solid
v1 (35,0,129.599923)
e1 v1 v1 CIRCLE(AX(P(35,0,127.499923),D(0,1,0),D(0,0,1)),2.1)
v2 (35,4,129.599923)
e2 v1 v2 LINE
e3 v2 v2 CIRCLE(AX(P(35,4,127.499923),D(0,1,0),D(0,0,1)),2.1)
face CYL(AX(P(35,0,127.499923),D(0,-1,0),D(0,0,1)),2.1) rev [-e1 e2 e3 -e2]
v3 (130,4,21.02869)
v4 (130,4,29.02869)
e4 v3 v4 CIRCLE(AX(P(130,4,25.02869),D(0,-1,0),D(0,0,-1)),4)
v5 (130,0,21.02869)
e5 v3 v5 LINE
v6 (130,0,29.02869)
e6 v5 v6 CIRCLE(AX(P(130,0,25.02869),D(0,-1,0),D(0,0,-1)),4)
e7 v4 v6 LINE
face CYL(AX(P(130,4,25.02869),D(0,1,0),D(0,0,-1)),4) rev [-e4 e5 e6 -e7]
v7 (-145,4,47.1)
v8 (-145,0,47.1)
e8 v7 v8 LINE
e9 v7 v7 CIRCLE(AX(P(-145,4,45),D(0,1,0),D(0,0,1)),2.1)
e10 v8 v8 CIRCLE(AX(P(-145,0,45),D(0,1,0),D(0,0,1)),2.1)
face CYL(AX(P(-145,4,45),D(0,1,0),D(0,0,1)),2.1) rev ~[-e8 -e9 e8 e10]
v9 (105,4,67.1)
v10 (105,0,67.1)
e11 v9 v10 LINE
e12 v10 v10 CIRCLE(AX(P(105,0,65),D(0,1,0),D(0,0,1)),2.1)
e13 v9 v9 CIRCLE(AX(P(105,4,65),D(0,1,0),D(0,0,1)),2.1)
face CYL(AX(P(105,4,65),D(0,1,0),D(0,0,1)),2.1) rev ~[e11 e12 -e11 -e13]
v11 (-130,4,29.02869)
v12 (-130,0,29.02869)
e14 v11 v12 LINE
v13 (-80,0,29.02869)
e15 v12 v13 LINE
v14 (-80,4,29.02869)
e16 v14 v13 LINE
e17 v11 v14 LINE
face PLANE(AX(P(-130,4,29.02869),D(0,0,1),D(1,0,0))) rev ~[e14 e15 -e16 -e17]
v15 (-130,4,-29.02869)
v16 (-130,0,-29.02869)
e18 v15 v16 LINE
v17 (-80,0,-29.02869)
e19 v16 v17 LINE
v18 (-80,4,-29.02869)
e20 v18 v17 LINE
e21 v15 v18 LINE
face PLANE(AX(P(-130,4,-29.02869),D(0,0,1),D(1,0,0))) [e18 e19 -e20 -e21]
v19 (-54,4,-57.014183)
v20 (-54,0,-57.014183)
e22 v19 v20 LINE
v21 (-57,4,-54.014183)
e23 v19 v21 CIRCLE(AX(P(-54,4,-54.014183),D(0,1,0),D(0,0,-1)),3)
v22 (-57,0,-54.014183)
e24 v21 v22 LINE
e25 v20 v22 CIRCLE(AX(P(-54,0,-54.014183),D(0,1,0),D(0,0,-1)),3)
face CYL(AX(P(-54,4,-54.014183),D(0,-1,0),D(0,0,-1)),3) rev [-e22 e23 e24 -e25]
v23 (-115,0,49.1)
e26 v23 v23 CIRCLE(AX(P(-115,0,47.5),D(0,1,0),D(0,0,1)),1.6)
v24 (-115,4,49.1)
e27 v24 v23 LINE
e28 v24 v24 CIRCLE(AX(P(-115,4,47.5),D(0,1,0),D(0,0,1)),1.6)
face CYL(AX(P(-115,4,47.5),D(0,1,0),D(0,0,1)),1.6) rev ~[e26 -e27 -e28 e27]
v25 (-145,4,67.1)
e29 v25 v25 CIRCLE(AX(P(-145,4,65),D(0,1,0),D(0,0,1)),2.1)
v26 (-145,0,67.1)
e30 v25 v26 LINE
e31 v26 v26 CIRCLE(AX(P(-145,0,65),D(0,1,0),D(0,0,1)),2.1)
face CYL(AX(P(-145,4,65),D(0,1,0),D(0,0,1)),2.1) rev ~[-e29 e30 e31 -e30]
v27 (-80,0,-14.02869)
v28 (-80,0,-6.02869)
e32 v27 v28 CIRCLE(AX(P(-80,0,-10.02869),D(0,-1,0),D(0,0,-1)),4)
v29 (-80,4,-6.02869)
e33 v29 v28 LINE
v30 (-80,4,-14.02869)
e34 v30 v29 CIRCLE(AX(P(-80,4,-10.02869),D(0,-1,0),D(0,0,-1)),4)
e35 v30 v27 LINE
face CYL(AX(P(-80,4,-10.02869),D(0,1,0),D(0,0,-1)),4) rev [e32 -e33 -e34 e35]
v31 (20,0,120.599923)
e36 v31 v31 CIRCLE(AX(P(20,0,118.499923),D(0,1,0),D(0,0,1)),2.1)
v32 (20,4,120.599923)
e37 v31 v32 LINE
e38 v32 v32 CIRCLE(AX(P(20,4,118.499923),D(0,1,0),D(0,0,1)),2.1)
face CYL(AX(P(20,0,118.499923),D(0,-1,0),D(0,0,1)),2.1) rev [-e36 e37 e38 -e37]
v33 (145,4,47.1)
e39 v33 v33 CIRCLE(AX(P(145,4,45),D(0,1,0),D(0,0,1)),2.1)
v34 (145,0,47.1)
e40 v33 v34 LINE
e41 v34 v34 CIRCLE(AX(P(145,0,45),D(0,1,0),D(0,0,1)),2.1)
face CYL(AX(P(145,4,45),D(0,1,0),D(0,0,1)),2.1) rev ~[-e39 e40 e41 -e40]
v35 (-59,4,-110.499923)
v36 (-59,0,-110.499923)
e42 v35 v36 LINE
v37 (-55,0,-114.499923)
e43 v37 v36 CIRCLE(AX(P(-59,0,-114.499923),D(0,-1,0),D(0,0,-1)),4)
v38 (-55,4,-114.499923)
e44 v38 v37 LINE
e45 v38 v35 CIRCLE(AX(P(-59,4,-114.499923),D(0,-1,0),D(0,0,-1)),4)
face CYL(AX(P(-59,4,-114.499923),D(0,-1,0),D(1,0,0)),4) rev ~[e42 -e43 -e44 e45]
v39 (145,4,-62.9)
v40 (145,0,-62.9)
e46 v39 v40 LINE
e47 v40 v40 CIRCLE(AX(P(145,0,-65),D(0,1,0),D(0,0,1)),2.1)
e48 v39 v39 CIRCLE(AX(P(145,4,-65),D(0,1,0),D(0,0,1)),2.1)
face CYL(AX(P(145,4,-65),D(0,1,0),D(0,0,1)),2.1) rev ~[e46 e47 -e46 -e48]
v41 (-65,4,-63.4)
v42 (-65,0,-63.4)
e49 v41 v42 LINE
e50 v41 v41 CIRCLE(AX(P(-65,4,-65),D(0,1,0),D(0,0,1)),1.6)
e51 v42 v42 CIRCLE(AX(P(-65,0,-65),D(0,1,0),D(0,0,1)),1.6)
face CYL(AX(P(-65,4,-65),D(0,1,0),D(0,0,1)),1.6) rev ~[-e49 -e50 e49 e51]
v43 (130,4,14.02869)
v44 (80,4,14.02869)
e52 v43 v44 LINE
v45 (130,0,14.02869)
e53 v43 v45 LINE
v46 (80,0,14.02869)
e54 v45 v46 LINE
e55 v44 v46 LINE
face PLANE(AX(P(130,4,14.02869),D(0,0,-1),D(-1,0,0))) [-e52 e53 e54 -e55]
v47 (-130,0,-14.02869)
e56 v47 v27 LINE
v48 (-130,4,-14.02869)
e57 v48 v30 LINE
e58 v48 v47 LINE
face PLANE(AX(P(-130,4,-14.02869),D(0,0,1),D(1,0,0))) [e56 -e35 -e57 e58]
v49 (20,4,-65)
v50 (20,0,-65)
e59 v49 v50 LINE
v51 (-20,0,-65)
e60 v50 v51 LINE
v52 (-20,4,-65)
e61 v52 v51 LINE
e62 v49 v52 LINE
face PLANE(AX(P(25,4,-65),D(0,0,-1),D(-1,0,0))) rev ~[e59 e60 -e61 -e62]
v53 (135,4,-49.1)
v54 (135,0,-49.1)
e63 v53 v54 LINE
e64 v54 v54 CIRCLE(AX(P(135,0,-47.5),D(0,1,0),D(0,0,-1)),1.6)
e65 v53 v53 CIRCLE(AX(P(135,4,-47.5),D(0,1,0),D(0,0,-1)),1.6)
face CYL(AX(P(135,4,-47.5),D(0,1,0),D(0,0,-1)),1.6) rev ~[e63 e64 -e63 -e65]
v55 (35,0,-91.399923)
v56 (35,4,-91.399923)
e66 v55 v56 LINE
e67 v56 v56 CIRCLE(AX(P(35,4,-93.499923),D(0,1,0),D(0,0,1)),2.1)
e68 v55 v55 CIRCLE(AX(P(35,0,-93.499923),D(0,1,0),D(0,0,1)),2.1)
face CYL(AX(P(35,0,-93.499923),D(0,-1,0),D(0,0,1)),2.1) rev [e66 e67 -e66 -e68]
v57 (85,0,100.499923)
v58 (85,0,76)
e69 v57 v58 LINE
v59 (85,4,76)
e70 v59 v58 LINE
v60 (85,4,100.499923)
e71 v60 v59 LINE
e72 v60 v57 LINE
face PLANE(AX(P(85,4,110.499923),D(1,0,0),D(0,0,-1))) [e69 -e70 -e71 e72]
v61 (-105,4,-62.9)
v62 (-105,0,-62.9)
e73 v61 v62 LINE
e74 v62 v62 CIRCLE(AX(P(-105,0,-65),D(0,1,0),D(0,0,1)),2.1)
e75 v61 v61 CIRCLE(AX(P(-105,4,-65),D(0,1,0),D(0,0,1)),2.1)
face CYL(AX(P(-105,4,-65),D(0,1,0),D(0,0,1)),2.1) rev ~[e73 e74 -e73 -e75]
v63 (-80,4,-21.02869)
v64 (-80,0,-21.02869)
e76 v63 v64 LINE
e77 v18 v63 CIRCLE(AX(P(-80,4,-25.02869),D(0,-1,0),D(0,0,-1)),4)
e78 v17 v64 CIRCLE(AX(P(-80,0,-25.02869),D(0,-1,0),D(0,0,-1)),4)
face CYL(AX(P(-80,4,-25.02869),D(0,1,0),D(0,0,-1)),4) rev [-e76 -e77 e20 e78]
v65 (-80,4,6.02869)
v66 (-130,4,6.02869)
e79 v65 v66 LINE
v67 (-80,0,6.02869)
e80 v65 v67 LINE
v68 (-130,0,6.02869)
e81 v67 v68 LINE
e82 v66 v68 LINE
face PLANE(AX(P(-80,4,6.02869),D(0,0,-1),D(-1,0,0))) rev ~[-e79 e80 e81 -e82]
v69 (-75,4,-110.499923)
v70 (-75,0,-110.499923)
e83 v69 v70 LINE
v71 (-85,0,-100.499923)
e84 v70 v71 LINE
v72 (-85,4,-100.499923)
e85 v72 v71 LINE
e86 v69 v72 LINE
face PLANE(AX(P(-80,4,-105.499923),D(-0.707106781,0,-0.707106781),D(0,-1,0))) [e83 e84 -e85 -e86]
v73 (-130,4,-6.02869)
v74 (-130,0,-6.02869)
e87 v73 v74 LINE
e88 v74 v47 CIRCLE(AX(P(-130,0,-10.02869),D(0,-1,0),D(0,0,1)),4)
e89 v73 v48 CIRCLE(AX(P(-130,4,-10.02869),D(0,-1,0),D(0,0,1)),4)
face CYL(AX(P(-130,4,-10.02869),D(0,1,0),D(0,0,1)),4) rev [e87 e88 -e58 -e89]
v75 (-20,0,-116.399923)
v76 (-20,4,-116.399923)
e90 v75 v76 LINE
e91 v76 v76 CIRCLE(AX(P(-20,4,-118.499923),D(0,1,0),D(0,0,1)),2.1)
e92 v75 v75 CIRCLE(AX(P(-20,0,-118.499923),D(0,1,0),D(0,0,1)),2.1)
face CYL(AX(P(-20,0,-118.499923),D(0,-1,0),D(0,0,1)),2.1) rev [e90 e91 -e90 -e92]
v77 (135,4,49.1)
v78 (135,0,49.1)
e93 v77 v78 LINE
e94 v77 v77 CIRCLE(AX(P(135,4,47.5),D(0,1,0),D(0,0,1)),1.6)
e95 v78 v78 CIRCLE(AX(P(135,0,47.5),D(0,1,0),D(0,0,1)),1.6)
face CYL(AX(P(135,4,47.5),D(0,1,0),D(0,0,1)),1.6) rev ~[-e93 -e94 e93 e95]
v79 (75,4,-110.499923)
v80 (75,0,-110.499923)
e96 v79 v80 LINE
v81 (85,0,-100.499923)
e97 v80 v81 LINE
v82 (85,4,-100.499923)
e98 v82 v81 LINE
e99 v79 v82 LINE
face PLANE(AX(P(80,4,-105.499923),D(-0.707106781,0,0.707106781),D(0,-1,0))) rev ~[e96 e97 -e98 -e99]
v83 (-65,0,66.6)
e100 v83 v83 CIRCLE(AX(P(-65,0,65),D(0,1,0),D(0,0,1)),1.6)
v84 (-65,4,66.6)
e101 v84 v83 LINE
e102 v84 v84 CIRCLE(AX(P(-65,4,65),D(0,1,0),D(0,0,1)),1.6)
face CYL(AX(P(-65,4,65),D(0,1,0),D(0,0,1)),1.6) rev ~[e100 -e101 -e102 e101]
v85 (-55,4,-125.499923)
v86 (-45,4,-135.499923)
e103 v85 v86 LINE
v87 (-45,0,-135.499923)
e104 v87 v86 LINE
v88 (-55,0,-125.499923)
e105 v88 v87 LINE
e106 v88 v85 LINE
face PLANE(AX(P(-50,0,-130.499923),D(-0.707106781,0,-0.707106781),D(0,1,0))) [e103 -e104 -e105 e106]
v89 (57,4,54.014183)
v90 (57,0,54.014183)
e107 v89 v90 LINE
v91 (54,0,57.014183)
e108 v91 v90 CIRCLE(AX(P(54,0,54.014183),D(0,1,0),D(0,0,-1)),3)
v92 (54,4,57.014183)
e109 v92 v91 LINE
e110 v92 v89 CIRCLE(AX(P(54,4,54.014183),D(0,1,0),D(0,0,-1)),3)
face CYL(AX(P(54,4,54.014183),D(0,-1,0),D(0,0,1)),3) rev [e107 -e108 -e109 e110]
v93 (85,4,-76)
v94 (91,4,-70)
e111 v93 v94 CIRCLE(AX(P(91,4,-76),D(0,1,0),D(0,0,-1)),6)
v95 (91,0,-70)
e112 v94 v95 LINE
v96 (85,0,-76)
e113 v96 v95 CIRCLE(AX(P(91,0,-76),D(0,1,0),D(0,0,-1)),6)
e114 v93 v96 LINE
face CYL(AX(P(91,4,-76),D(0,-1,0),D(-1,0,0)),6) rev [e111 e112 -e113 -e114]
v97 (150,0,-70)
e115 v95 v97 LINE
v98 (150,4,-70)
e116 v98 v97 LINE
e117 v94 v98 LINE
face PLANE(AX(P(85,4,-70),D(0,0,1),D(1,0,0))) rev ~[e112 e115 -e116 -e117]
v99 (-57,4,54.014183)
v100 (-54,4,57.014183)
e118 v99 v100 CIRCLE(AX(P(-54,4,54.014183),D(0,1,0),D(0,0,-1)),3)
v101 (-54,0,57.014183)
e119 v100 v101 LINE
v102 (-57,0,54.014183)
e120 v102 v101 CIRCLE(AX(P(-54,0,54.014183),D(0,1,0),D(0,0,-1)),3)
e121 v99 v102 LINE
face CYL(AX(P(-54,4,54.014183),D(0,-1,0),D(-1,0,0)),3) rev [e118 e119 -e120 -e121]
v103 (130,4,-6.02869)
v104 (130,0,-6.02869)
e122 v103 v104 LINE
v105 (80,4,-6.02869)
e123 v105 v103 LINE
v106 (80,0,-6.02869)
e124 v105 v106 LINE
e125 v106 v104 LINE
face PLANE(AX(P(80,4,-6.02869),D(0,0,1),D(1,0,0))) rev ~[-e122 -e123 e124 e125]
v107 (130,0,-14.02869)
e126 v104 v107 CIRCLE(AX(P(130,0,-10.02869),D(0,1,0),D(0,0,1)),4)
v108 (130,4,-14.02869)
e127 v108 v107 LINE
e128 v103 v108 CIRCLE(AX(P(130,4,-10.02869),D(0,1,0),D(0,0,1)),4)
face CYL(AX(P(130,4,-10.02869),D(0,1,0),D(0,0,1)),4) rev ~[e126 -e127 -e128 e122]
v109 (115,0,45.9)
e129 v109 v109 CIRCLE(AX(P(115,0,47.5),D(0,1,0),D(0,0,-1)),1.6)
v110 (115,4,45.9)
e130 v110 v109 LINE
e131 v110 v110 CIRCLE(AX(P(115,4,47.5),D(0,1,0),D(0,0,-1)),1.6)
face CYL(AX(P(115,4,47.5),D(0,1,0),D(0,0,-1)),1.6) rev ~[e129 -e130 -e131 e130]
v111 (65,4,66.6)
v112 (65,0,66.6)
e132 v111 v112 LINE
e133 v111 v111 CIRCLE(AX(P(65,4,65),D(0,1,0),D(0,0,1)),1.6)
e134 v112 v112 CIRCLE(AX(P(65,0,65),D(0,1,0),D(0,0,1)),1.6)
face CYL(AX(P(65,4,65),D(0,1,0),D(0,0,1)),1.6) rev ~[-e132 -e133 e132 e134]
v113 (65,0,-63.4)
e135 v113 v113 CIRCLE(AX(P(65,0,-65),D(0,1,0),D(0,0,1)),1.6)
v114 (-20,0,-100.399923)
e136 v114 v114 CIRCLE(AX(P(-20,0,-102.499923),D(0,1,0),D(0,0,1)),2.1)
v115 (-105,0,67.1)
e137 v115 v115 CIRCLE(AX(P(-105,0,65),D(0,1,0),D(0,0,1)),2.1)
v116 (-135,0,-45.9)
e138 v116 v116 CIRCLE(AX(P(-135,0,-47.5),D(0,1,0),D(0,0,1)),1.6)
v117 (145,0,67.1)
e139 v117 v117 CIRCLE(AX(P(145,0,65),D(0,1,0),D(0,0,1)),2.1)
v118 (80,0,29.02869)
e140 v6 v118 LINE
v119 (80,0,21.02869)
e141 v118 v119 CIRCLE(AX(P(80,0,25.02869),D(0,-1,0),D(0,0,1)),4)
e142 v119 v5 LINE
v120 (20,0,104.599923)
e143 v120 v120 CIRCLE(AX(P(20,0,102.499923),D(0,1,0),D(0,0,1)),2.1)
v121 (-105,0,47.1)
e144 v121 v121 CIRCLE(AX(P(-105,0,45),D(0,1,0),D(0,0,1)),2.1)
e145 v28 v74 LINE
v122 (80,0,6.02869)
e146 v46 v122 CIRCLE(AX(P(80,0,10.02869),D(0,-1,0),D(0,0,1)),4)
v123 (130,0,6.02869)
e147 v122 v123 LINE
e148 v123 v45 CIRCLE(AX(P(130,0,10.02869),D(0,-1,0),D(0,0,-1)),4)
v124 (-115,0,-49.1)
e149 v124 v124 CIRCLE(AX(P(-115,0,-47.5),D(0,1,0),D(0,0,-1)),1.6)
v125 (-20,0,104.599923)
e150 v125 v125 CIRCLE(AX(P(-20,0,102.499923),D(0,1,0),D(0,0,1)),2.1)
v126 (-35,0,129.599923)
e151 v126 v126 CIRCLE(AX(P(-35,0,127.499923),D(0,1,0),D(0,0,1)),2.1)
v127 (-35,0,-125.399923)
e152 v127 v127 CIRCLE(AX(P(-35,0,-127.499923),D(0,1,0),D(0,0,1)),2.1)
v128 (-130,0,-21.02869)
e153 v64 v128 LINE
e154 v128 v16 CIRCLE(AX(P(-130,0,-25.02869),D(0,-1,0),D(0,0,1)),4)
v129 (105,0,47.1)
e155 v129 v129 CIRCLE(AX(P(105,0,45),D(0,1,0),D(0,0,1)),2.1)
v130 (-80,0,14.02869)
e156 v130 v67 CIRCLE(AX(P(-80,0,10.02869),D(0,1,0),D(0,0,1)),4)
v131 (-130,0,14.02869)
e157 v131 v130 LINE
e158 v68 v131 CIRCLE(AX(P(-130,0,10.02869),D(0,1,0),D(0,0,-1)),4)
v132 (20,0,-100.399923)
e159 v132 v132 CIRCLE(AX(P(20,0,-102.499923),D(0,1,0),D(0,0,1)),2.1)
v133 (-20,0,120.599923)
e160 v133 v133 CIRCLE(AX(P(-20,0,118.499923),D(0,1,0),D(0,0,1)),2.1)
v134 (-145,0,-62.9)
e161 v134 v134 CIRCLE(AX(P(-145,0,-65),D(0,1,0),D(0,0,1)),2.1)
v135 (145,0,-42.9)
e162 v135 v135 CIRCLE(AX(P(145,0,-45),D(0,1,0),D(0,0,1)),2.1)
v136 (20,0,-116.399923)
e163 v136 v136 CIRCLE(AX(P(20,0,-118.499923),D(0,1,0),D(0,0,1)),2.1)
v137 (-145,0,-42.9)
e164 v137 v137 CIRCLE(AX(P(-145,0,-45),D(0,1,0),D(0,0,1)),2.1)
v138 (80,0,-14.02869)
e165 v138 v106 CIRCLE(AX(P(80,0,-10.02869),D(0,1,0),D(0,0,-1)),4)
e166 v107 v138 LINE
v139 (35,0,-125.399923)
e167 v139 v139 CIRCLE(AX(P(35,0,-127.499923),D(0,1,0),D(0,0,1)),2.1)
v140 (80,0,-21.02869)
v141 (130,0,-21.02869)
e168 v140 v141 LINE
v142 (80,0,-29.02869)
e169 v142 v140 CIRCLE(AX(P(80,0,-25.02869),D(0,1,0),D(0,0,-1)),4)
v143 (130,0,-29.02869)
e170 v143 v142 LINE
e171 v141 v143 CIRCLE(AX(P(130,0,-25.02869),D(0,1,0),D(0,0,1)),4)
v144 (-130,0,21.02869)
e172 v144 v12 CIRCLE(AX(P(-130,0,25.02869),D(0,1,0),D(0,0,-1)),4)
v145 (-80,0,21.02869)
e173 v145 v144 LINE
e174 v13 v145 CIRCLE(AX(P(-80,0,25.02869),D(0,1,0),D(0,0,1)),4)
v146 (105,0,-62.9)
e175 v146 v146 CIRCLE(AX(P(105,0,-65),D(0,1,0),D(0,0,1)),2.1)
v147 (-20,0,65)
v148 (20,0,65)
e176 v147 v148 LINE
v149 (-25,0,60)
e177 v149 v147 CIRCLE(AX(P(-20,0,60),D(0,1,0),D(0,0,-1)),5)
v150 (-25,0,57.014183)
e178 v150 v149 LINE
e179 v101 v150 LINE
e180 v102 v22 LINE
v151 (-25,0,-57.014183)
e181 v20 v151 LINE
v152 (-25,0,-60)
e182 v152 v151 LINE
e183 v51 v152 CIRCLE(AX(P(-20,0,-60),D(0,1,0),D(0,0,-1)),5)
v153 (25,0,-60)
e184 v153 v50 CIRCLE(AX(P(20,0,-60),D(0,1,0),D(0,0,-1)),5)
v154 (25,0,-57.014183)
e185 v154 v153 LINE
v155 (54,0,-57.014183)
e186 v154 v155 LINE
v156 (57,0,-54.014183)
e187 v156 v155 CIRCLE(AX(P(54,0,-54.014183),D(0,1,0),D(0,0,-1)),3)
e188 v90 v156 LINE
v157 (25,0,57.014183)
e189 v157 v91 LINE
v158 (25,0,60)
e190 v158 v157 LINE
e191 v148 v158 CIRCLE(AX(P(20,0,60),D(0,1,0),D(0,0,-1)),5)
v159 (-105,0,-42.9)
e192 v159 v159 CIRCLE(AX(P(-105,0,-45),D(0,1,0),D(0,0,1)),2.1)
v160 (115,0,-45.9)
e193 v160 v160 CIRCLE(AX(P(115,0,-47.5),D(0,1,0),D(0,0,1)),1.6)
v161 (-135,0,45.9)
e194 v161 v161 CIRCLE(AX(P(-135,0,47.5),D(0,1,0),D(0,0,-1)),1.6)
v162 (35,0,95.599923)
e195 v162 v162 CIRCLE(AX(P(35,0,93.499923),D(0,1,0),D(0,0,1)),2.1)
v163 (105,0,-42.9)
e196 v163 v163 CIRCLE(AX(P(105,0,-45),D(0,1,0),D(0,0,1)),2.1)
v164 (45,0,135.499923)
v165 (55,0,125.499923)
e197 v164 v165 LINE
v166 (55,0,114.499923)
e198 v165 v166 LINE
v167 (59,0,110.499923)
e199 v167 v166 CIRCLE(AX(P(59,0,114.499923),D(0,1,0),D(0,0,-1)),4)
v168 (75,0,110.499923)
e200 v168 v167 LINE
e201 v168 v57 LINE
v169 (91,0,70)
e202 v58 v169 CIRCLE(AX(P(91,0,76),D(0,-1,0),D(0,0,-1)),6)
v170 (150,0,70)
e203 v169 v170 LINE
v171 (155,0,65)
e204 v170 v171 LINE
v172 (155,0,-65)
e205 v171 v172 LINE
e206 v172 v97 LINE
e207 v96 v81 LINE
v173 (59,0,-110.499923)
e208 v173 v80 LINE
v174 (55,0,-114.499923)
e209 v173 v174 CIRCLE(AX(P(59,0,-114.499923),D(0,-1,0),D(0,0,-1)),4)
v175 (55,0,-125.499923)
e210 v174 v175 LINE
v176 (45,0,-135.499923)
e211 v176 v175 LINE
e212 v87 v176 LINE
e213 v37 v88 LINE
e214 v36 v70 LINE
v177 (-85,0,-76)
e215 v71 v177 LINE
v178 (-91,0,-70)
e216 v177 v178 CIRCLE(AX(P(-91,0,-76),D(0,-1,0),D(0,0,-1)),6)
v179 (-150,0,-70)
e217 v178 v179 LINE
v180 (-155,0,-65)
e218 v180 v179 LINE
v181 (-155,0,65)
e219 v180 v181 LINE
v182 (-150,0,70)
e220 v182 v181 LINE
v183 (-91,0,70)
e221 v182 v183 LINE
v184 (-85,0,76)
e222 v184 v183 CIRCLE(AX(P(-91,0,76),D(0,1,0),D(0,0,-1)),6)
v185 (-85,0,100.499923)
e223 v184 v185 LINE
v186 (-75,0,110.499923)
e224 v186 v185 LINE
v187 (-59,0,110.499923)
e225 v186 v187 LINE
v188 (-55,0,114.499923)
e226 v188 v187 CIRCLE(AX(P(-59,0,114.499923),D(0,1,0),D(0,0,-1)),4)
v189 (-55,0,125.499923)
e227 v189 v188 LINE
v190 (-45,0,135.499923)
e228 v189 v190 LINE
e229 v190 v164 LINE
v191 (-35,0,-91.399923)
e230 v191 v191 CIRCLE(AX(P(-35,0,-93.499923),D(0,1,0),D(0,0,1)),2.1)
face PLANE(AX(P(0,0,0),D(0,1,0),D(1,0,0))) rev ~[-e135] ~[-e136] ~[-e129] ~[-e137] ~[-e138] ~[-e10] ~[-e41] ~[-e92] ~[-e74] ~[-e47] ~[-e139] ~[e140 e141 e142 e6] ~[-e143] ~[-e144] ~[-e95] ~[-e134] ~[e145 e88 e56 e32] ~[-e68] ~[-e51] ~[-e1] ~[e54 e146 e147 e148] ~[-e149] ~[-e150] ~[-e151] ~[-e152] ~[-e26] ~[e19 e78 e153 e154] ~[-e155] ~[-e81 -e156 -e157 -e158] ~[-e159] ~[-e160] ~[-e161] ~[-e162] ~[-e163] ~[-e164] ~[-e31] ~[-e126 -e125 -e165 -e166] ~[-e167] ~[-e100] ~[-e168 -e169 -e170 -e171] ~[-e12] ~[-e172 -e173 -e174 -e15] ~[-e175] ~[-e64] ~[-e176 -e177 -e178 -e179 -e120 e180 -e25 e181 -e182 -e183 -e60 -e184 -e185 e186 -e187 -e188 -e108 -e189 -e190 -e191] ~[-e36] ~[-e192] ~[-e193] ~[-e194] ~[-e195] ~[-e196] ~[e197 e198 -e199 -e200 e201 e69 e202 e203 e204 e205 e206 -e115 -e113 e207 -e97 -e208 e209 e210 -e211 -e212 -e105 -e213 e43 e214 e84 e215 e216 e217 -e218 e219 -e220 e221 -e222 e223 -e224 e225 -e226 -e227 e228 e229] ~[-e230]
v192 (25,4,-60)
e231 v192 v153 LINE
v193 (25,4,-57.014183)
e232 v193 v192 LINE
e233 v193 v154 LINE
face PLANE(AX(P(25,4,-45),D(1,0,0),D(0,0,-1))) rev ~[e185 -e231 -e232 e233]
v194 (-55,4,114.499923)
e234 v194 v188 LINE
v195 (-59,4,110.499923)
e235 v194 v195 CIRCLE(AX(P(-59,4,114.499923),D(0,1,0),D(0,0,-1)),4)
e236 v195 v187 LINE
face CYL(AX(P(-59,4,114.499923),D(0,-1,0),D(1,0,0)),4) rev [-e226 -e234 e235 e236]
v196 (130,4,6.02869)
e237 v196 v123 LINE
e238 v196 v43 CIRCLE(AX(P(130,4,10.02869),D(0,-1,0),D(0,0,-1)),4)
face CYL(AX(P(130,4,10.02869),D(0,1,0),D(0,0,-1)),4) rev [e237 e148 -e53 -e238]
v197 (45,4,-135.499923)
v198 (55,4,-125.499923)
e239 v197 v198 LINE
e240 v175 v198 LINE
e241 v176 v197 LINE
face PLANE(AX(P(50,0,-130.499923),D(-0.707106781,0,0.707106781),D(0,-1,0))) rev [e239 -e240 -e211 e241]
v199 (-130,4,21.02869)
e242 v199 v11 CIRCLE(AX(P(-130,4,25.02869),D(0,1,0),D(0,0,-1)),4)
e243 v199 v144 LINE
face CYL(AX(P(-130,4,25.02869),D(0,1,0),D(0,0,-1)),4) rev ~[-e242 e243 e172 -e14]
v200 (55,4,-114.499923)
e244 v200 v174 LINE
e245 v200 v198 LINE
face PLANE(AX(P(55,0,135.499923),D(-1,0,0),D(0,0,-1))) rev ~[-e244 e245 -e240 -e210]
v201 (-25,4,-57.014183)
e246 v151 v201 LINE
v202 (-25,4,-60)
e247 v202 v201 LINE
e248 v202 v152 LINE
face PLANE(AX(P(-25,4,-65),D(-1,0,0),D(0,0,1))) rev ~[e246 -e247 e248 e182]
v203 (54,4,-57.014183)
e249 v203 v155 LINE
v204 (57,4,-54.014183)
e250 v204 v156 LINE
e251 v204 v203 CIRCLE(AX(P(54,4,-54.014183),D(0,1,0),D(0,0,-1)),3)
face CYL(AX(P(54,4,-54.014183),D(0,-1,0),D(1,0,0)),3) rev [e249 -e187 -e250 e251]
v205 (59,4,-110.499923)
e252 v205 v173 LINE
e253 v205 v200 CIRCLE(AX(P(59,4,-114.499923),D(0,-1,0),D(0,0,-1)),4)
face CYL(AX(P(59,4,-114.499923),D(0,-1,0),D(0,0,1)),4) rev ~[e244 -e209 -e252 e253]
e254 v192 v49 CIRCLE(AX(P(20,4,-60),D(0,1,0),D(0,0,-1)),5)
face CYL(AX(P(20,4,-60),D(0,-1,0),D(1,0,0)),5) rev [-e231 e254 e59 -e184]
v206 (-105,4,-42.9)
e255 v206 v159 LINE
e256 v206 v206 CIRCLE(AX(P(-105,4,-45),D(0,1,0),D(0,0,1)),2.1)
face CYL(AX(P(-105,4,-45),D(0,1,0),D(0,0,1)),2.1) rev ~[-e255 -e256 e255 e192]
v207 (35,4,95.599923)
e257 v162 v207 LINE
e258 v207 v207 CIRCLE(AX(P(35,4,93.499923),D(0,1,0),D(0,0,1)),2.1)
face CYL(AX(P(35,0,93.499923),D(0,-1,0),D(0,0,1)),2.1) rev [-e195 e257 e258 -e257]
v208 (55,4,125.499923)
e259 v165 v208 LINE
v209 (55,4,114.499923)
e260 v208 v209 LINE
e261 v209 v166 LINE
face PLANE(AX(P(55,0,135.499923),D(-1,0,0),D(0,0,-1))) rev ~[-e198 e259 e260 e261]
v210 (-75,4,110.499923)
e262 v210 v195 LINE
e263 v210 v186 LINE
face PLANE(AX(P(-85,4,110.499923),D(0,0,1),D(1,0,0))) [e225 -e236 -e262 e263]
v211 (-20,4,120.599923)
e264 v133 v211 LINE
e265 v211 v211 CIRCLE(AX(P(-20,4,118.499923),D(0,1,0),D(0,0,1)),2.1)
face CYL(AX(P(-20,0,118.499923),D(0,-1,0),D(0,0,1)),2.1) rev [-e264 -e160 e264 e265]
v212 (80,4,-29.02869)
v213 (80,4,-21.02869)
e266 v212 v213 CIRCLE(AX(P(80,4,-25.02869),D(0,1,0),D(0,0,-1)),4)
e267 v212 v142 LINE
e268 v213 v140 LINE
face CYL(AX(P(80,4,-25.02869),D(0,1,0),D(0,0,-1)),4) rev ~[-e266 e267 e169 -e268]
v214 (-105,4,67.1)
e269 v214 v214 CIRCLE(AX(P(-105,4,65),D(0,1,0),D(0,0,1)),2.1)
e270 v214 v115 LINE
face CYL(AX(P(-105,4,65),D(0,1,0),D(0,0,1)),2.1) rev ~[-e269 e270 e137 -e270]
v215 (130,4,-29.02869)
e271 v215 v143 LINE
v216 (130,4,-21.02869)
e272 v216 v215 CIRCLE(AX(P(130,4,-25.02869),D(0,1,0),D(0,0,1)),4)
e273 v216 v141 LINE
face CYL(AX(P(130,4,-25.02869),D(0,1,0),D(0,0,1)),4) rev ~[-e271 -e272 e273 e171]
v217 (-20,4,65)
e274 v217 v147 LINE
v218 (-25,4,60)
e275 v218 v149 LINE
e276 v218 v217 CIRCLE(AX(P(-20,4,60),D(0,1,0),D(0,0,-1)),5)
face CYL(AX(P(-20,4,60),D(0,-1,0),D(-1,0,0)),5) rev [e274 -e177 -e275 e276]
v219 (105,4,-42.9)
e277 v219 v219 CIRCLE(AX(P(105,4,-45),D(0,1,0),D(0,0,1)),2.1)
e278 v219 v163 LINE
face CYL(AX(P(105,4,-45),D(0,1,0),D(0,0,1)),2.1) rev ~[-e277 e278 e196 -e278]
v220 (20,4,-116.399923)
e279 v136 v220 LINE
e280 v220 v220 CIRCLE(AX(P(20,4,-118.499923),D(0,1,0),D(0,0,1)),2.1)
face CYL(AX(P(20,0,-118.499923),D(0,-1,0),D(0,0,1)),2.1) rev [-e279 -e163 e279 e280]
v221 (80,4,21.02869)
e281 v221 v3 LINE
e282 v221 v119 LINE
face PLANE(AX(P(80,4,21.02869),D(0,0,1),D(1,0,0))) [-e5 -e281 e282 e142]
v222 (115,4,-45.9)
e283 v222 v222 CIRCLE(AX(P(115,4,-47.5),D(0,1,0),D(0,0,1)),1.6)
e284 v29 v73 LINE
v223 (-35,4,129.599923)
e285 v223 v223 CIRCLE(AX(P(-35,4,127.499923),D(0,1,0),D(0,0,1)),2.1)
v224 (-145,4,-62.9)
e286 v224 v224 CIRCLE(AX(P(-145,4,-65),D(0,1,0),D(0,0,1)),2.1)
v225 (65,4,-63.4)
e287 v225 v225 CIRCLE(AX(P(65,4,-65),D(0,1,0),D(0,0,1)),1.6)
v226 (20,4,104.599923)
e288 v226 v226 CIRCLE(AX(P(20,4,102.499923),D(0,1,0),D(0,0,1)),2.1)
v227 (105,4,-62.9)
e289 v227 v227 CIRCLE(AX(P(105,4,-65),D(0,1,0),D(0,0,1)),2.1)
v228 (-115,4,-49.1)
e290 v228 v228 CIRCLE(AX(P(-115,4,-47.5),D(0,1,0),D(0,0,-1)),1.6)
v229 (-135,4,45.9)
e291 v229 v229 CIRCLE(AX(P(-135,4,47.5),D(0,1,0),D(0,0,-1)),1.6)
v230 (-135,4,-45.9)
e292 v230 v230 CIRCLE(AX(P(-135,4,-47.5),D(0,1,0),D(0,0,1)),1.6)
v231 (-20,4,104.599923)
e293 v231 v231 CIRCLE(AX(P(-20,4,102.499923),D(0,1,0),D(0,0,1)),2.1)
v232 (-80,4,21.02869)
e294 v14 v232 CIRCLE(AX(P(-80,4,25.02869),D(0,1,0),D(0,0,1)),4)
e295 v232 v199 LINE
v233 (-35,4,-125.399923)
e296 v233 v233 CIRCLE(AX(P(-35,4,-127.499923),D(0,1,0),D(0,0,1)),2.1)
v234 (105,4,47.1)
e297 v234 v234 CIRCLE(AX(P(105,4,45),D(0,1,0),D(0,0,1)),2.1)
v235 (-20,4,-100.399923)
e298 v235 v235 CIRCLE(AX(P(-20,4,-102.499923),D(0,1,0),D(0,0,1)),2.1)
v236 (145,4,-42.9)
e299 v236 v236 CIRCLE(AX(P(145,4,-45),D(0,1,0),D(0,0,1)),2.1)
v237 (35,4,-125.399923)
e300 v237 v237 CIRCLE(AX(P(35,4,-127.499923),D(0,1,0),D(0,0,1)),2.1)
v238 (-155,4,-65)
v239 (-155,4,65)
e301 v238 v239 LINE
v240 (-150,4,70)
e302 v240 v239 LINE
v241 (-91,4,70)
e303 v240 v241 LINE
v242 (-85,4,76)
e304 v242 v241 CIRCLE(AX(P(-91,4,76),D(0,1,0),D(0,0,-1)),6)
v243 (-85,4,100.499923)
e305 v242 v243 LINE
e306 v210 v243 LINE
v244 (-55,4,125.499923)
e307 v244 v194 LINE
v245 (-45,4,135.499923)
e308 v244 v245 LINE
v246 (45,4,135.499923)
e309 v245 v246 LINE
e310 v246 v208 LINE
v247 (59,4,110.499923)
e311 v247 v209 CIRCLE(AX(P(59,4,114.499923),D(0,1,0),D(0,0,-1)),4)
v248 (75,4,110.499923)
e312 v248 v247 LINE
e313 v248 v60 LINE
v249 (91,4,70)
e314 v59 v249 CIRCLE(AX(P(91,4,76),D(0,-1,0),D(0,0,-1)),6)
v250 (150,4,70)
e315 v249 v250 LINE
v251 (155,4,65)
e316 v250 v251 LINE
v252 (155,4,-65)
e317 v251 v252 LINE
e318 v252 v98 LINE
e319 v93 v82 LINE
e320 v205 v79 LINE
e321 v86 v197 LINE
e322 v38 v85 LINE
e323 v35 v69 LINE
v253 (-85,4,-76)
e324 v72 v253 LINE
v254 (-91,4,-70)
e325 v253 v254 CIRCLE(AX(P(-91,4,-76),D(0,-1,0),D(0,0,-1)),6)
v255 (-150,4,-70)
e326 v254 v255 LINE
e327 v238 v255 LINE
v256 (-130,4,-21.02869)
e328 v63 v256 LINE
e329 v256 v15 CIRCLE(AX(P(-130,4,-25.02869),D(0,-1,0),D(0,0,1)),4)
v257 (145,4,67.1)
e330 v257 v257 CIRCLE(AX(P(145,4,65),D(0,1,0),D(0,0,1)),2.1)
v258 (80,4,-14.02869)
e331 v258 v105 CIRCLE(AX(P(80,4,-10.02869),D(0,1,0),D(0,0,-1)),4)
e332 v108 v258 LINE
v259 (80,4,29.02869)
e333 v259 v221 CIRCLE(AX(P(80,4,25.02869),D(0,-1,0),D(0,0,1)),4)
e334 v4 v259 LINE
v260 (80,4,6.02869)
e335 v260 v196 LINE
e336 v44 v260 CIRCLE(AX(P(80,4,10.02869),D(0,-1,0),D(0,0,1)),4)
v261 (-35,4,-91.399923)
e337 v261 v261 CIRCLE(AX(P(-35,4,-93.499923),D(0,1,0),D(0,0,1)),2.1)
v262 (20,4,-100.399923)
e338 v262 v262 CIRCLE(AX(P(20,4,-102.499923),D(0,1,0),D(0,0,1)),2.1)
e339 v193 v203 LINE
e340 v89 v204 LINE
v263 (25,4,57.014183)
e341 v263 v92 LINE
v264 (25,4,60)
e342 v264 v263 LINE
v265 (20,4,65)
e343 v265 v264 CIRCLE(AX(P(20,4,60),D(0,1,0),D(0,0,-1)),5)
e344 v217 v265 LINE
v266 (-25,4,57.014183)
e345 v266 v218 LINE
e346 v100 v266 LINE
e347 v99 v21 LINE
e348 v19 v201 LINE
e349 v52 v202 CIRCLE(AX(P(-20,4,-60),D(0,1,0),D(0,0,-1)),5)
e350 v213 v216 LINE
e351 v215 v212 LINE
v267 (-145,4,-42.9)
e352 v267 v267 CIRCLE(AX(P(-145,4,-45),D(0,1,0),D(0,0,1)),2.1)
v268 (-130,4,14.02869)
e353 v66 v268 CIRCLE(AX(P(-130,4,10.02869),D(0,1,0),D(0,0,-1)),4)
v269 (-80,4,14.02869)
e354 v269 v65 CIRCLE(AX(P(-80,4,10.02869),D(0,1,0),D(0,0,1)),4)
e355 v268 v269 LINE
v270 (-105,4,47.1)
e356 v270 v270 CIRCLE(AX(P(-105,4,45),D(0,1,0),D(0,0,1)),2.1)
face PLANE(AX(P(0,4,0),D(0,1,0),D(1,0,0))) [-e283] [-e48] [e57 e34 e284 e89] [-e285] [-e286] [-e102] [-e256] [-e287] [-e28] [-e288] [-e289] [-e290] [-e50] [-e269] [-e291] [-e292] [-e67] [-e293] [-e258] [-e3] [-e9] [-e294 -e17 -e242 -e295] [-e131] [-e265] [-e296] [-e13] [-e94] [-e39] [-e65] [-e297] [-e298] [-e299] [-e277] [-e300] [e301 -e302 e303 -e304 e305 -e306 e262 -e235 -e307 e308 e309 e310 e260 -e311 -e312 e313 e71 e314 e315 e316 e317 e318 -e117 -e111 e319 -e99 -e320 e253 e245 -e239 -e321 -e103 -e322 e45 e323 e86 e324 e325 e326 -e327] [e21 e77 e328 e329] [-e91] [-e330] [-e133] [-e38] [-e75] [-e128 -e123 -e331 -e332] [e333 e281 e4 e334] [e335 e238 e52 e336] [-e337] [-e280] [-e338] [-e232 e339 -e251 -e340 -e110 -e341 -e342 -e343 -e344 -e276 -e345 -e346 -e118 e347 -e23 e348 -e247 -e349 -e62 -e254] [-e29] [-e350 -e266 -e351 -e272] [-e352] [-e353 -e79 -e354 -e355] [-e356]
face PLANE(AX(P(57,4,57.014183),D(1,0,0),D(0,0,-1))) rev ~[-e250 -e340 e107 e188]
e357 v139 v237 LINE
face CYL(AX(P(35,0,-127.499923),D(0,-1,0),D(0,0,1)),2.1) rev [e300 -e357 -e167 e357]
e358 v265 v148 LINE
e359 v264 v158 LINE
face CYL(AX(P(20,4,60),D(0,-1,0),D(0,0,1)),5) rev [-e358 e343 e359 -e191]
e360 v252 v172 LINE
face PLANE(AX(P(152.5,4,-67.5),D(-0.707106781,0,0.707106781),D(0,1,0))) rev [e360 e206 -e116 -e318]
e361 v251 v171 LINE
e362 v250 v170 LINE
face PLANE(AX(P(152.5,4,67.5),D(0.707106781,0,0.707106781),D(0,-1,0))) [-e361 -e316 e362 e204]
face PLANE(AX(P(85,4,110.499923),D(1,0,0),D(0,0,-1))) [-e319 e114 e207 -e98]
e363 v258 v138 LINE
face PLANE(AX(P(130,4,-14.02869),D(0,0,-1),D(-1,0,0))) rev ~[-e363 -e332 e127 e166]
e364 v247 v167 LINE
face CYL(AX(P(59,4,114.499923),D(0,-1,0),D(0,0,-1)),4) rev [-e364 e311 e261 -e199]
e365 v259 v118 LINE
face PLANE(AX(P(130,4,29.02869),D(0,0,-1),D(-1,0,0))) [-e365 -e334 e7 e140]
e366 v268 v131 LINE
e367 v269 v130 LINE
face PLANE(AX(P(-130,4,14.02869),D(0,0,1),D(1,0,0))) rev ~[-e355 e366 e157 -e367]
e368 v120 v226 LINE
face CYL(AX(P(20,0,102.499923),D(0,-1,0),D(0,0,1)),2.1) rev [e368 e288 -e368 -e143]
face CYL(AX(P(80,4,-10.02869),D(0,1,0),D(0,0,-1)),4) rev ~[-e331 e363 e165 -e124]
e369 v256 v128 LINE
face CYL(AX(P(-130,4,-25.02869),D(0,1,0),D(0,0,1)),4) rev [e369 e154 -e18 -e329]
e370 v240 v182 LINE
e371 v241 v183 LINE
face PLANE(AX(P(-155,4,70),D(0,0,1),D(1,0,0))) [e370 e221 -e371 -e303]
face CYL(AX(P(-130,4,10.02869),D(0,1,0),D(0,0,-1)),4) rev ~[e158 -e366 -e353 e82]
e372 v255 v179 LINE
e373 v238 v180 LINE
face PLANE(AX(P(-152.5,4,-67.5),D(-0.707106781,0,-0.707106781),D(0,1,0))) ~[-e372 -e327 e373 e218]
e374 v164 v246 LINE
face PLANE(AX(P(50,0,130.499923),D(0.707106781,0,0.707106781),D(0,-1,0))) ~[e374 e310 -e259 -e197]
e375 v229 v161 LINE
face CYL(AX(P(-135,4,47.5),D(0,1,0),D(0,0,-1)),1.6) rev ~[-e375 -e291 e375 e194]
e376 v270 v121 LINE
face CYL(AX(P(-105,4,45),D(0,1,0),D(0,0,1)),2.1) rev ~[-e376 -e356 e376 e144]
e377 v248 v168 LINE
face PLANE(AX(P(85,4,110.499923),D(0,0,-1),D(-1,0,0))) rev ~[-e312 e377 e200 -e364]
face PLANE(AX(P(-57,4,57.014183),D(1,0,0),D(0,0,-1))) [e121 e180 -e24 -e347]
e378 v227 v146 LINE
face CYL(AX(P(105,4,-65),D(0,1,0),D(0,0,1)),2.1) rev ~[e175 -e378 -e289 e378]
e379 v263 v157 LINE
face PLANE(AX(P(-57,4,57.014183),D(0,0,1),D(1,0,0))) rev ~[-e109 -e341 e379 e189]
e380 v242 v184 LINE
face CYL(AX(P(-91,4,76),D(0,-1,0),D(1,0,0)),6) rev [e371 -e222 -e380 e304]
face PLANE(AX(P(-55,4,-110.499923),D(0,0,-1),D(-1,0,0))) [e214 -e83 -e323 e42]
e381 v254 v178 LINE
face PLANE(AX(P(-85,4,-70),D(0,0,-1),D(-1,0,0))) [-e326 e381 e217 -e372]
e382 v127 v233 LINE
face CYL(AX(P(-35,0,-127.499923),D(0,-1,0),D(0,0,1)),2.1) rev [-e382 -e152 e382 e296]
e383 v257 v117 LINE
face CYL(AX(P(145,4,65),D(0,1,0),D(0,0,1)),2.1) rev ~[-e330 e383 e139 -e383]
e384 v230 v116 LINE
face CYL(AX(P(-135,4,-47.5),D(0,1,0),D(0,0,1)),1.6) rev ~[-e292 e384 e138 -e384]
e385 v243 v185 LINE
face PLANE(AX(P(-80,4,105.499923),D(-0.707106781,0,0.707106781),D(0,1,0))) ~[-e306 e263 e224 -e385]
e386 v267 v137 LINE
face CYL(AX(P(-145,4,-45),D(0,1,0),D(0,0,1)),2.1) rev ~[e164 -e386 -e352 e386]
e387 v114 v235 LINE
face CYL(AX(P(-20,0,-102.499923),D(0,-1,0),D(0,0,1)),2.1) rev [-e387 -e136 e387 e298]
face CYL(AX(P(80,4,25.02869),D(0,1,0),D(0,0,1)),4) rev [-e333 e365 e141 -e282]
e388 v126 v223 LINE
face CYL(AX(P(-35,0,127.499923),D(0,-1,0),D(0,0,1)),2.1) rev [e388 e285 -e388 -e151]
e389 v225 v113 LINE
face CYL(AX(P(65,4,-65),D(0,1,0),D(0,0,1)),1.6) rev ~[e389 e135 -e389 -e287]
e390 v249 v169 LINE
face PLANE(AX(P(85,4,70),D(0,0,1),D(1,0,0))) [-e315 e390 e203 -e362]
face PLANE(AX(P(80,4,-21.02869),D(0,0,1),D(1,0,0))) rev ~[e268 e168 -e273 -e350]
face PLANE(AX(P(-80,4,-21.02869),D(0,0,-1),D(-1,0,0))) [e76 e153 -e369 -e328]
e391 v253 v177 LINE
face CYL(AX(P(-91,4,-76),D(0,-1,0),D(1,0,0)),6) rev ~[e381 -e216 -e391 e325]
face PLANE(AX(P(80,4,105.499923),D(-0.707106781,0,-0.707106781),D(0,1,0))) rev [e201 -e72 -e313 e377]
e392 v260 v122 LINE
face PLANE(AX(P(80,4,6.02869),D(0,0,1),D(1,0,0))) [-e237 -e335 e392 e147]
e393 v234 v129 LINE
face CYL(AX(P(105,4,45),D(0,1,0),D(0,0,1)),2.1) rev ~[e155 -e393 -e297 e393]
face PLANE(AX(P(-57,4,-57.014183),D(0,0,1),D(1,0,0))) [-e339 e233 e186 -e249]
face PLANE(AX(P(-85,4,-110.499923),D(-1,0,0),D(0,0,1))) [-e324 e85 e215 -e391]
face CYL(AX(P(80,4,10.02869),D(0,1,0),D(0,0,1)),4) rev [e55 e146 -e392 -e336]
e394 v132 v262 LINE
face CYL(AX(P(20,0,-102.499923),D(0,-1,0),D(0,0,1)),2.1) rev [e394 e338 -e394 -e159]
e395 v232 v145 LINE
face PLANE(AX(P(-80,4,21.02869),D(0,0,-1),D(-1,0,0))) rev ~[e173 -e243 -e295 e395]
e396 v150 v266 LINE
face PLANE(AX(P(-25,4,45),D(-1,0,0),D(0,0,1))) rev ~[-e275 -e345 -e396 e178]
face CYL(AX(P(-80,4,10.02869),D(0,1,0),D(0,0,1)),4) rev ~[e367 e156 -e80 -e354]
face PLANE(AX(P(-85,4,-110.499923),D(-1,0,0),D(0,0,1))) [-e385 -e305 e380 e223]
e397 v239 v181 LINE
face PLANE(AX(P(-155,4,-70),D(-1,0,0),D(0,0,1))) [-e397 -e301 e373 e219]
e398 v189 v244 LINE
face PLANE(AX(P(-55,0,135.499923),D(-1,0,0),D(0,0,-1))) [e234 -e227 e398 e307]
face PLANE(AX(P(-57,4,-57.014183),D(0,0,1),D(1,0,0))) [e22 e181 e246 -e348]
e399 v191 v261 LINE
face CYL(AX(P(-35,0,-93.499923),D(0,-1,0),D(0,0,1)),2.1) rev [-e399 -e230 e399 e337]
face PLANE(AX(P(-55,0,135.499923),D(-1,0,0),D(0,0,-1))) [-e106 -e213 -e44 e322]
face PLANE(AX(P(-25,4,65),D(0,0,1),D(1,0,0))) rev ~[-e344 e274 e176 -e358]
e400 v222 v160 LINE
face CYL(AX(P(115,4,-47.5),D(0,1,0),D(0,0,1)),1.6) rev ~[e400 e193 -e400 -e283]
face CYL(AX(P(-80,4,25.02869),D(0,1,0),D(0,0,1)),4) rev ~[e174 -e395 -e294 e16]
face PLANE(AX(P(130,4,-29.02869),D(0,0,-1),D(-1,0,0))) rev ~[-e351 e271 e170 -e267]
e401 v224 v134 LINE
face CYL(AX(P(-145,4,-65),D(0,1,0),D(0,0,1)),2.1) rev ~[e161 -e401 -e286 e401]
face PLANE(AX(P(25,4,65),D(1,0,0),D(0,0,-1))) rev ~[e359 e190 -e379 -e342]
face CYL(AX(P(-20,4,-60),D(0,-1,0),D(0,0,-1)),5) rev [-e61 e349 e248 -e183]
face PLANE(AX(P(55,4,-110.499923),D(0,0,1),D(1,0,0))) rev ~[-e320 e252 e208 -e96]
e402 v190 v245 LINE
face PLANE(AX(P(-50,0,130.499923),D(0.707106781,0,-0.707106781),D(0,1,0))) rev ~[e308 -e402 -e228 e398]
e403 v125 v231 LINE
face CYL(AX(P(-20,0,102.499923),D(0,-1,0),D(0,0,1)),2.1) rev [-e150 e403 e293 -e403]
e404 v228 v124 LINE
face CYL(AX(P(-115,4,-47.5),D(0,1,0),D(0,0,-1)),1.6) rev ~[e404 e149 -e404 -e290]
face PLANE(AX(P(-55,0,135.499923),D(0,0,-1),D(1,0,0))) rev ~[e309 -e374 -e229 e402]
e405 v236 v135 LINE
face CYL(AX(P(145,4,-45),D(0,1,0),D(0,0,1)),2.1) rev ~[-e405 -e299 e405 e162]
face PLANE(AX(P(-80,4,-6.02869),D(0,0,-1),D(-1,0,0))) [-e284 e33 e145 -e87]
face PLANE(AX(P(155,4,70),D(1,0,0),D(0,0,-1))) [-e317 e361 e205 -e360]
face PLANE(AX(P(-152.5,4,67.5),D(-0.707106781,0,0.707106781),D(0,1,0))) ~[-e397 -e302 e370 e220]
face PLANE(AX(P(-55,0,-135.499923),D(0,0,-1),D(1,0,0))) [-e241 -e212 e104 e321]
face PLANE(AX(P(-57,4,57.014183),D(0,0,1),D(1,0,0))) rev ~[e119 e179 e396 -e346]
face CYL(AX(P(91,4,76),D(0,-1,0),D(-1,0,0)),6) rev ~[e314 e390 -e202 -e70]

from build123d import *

# Parameters (mm, degrees)
SKETCH_1_W          = 110
SKETCH_1_H          = 270.99984649
SKETCH_1_R          = 2.1
EXTRUDE_1_DEPTH     = 4
CHAMFER_1_SIZE      = 10
CUT_EXTRUDE_1_DEPTH = 4
FILLET_1_R          = 5
EXTRUDE_2_DEPTH     = 4
CHAMFER_2_SIZE      = 10
FILLET_2_R          = 4
FILLET_3_R          = 5
SKETCH_5_R          = 1.6
CUT_EXTRUDE_2_DEPTH = 4
SKETCH_7_W          = 70
SKETCH_7_H          = 140
EXTRUDE_3_DEPTH     = 4
FILLET_4_R          = 6
SKETCH_8_R          = 2.1
CUT_EXTRUDE_3_DEPTH = 4
SKETCH_9_R          = 1.6
CUT_EXTRUDE_4_DEPTH = 4
CHAMFER_3_SIZE      = 5
SKETCH_11_W         = 114
SKETCH_11_H         = 114.028365308
CUT_EXTRUDE_5_DEPTH = 10
FILLET_5_R          = 3


with BuildPart() as part:
    # 草图1 → 凸台-拉伸1 (new body)
    with BuildSketch(Plane(origin=(0, 0, 0), x_dir=(1, 0, 0), z_dir=(0, 1, 0))):
        Rectangle(SKETCH_1_W, SKETCH_1_H)
        with Locations(Location((-35, 127.499923245, 0), (0, 0, 270))):
            Circle(SKETCH_1_R, mode=Mode.SUBTRACT)
        with Locations(Location((-20, 118.499923245, 0), (0, 0, 270))):
            Circle(SKETCH_1_R, mode=Mode.SUBTRACT)
        with Locations(Location((20, 118.499923245, 0), (0, 0, 270))):
            Circle(SKETCH_1_R, mode=Mode.SUBTRACT)
        with Locations(Location((35, 127.499923245, 0), (0, 0, 270))):
            Circle(SKETCH_1_R, mode=Mode.SUBTRACT)
        with Locations(Location((20, 102.499923245, 0), (0, 0, 270))):
            Circle(SKETCH_1_R, mode=Mode.SUBTRACT)
        with Locations(Location((35, 93.499923245, 0), (0, 0, 270))):
            Circle(SKETCH_1_R, mode=Mode.SUBTRACT)
        with Locations(Location((-35, 93.499923245, 0), (0, 0, 270))):
            Circle(SKETCH_1_R, mode=Mode.SUBTRACT)
        with Locations(Location((-20, 102.499923245, 0), (0, 0, 270))):
            Circle(SKETCH_1_R, mode=Mode.SUBTRACT)
        with Locations(Location((-35, -127.499923245, 0), (0, 0, 270))):
            Circle(SKETCH_1_R, mode=Mode.SUBTRACT)
        with Locations(Location((-20, -118.499923245, 0), (0, 0, 270))):
            Circle(SKETCH_1_R, mode=Mode.SUBTRACT)
        with Locations(Location((-20, -102.499923245, 0), (0, 0, 270))):
            Circle(SKETCH_1_R, mode=Mode.SUBTRACT)
        with Locations(Location((20, -118.499923245, 0), (0, 0, 270))):
            Circle(SKETCH_1_R, mode=Mode.SUBTRACT)
        with Locations(Location((20, -102.499923245, 0), (0, 0, 270))):
            Circle(SKETCH_1_R, mode=Mode.SUBTRACT)
        with Locations(Location((35, -93.499923245, 0), (0, 0, 270))):
            Circle(SKETCH_1_R, mode=Mode.SUBTRACT)
        with Locations(Location((35, -127.499923245, 0), (0, 0, 270))):
            Circle(SKETCH_1_R, mode=Mode.SUBTRACT)
    extrude(amount=EXTRUDE_1_DEPTH)

    # 倒角1
    chamfer_1_edges = [part.edges().sort_by_distance(p)[0] for p in [
        (55, 2, -135.499923245),
        (55, 2, 135.499923245),
        (-55, 2, 135.499923245),
        (-55, 2, -135.499923245),
    ]]
    chamfer(chamfer_1_edges, length=CHAMFER_1_SIZE)

    # 草图2 → 切除-拉伸1 (cut)
    with BuildSketch(Plane(origin=(0, 4, 0), x_dir=(1, 0, 0), z_dir=(0, 1, 0))):
        Polygon((-25, 45), (-40, 30), (-40, -30), (-25, -45), (-25, -65), (25, -65), (25, -45), (40, -30), (40, 30), (25, 45), (25, 65), (-25, 65), align=None)
    extrude(amount=-CUT_EXTRUDE_1_DEPTH, mode=Mode.SUBTRACT)

    # 圆角1
    fillet_1_edges = [part.edges().sort_by_distance(p)[0] for p in [
        (25, 2, -65),
        (25, 2, 65),
        (-25, 2, 65),
        (-25, 2, -65),
    ]]
    fillet(fillet_1_edges, radius=FILLET_1_R)

    # 草图3 → 凸台-拉伸2 (add)
    with BuildSketch(Plane(origin=(0, 4, 0), x_dir=(1, 0, 0), z_dir=(0, 1, 0))):
        Polygon((55, 110.499923245), (85, 110.499923245), (85, 93.499923245), (85, -102.499923245), (85, -110.499923245), (55, -110.499923245), (55, -102.499923245), (55, 93.499923245), align=None)
        Polygon((-85, 93.499923245), (-85, -102.499923245), (-85, -110.499923245), (-55, -110.499923245), (-55, -102.499923245), (-55, 93.499923245), (-55, 110.499923245), (-85, 110.499923245), align=None)
    extrude(amount=-EXTRUDE_2_DEPTH)

    # 倒角2
    chamfer_2_edges = [part.edges().sort_by_distance(p)[0] for p in [
        (-85, 2, -110.499923245),
        (-85, 2, 110.499923245),
        (85, 2, 110.499923245),
        (85, 2, -110.499923245),
    ]]
    chamfer(chamfer_2_edges, length=CHAMFER_2_SIZE)

    # 圆角2
    fillet_2_edges = [part.edges().sort_by_distance(p)[0] for p in [
        (-55, 2, -110.499923245),
        (55, 2, -110.499923245),
        (55, 2, 110.499923245),
        (-55, 2, 110.499923245),
    ]]
    fillet(fillet_2_edges, radius=FILLET_2_R)

    # 圆角3
    fillet_3_edges = [part.edges().sort_by_distance(p)[0] for p in [
        (40, 2, -30),
        (40, 2, 30),
        (-40, 2, 30),
        (-40, 2, -30),
    ]]
    fillet(fillet_3_edges, radius=FILLET_3_R)

    # 草图5 → 切除-拉伸2 (cut)
    with BuildSketch(Plane(origin=(0, 4, 0), x_dir=(1, 0, 0), z_dir=(0, 1, 0))):
        with Locations(Location((-65, 65, 0), (0, 0, 270))):
            Circle(SKETCH_5_R)
        with Locations(Location((65, 65, 0), (0, 0, 270))):
            Circle(SKETCH_5_R)
        with Locations(Location((65, -65, 0), (0, 0, 270))):
            Circle(SKETCH_5_R)
        with Locations(Location((-65, -65, 0), (0, 0, 270))):
            Circle(SKETCH_5_R)
    extrude(amount=-CUT_EXTRUDE_2_DEPTH, mode=Mode.SUBTRACT)

    # 草图7 → 凸台-拉伸3 (add)
    with BuildSketch(Plane(origin=(0, 4, 0), x_dir=(1, 0, 0), z_dir=(0, 1, 0))):
        Polygon((-85, 0), (-85, 70), (-155, 70), (-155, -70), (-85, -70), align=None)
        with Locations((120, 0)):
            Rectangle(SKETCH_7_W, SKETCH_7_H)
    extrude(amount=-EXTRUDE_3_DEPTH)

    # 圆角4
    fillet_4_edges = [part.edges().sort_by_distance(p)[0] for p in [
        (-85, 2, 70),
        (-85, 2, -70),
        (85, 2, 70),
        (85, 2, -70),
    ]]
    fillet(fillet_4_edges, radius=FILLET_4_R)

    # 草图8 → 切除-拉伸3 (cut)
    with BuildSketch(Plane(origin=(0, 4, 0), x_dir=(1, 0, 0), z_dir=(0, 1, 0))):
        with Locations(Location((105, 65, 0), (0, 0, 270))):
            Circle(SKETCH_8_R)
        with Locations(Location((145, 65, 0), (0, 0, 270))):
            Circle(SKETCH_8_R)
        with Locations(Location((145, 45, 0), (0, 0, 270))):
            Circle(SKETCH_8_R)
        with Locations(Location((105, 45, 0), (0, 0, 270))):
            Circle(SKETCH_8_R)
        with Locations(Location((145, -45, 0), (0, 0, 270))):
            Circle(SKETCH_8_R)
        with Locations(Location((145, -65, 0), (0, 0, 270))):
            Circle(SKETCH_8_R)
        with Locations(Location((105, -65, 0), (0, 0, 270))):
            Circle(SKETCH_8_R)
        with Locations(Location((105, -45, 0), (0, 0, 270))):
            Circle(SKETCH_8_R)
        with Locations(Location((-145, 65, 0), (0, 0, 270))):
            Circle(SKETCH_8_R)
        with Locations(Location((-105, 65, 0), (0, 0, 270))):
            Circle(SKETCH_8_R)
        with Locations(Location((-105, 45, 0), (0, 0, 270))):
            Circle(SKETCH_8_R)
        with Locations(Location((-145, 45, 0), (0, 0, 270))):
            Circle(SKETCH_8_R)
        with Locations(Location((-145, -45, 0), (0, 0, 270))):
            Circle(SKETCH_8_R)
        with Locations(Location((-105, -45, 0), (0, 0, 270))):
            Circle(SKETCH_8_R)
        with Locations(Location((-105, -65, 0), (0, 0, 270))):
            Circle(SKETCH_8_R)
        with Locations(Location((-145, -65, 0), (0, 0, 270))):
            Circle(SKETCH_8_R)
    extrude(amount=-CUT_EXTRUDE_3_DEPTH, mode=Mode.SUBTRACT)

    # 草图9 → 切除-拉伸4 (cut)
    with BuildSketch(Plane(origin=(0, 4, 0), x_dir=(1, 0, 0), z_dir=(0, 1, 0))):
        with Locations(Location((-135, 47.5, 0), (0, 0, 270))):
            Circle(SKETCH_9_R)
        with Locations(Location((-115, 47.5, 0), (0, 0, 90))):
            Circle(SKETCH_9_R)
        with Locations(Location((-115, -47.5, 0), (0, 0, 270))):
            Circle(SKETCH_9_R)
        with Locations(Location((-135, -47.5, 0), (0, 0, 90))):
            Circle(SKETCH_9_R)
        with Locations(Location((135, -47.5, 0), (0, 0, 270))):
            Circle(SKETCH_9_R)
        with Locations(Location((115, -47.5, 0), (0, 0, 90))):
            Circle(SKETCH_9_R)
        with Locations(Location((115, 47.5, 0), (0, 0, 270))):
            Circle(SKETCH_9_R)
        with Locations(Location((135, 47.5, 0), (0, 0, 90))):
            Circle(SKETCH_9_R)
        with BuildLine():
            Line((-130, 29.028690408), (-80, 29.028690408))
            ThreePointArc((-80, 29.028690408), (-76, 25.028690408), (-80, 21.028690408))
            Line((-80, 21.028690408), (-130, 21.028690408))
            ThreePointArc((-130, 21.028690408), (-134, 25.028690408), (-130, 29.028690408))
        make_face()
        with BuildLine():
            Line((-130, 14.028690408), (-80, 14.028690408))
            ThreePointArc((-80, 14.028690408), (-76, 10.028690408), (-80, 6.028690408))
            Line((-80, 6.028690408), (-130, 6.028690408))
            ThreePointArc((-130, 6.028690408), (-134, 10.028690408), (-130, 14.028690408))
        make_face()
        with BuildLine():
            Line((-130, -29.028690408), (-80, -29.028690408))
            ThreePointArc((-80, -29.028690408), (-76, -25.028690408), (-80, -21.028690408))
            Line((-80, -21.028690408), (-130, -21.028690408))
            ThreePointArc((-130, -21.028690408), (-134, -25.028690408), (-130, -29.028690408))
        make_face()
        with BuildLine():
            Line((-130, -14.028690408), (-80, -14.028690408))
            ThreePointArc((-80, -14.028690408), (-76, -10.028690408), (-80, -6.028690408))
            Line((-80, -6.028690408), (-130, -6.028690408))
            ThreePointArc((-130, -6.028690408), (-134, -10.028690408), (-130, -14.028690408))
        make_face()
        with BuildLine():
            Line((130, 29.028690408), (80, 29.028690408))
            ThreePointArc((80, 29.028690408), (76, 25.028690408), (80, 21.028690408))
            Line((80, 21.028690408), (130, 21.028690408))
            ThreePointArc((130, 21.028690408), (134, 25.028690408), (130, 29.028690408))
        make_face()
        with BuildLine():
            Line((130, 14.028690408), (80, 14.028690408))
            ThreePointArc((80, 14.028690408), (76, 10.028690408), (80, 6.028690408))
            Line((80, 6.028690408), (130, 6.028690408))
            ThreePointArc((130, 6.028690408), (134, 10.028690408), (130, 14.028690408))
        make_face()
        with BuildLine():
            Line((130, -29.028690408), (80, -29.028690408))
            ThreePointArc((80, -29.028690408), (76, -25.028690408), (80, -21.028690408))
            Line((80, -21.028690408), (130, -21.028690408))
            ThreePointArc((130, -21.028690408), (134, -25.028690408), (130, -29.028690408))
        make_face()
        with BuildLine():
            Line((130, -14.028690408), (80, -14.028690408))
            ThreePointArc((80, -14.028690408), (76, -10.028690408), (80, -6.028690408))
            Line((80, -6.028690408), (130, -6.028690408))
            ThreePointArc((130, -6.028690408), (134, -10.028690408), (130, -14.028690408))
        make_face()
    extrude(amount=-CUT_EXTRUDE_4_DEPTH, mode=Mode.SUBTRACT)

    # 倒角3
    chamfer_3_edges = [part.edges().sort_by_distance(p)[0] for p in [
        (155, 2, -70),
        (155, 2, 70),
        (-155, 2, 70),
        (-155, 2, -70),
    ]]
    chamfer(chamfer_3_edges, length=CHAMFER_3_SIZE)

    # 草图11 → 切除-拉伸5 (cut)
    with BuildSketch(Plane(origin=(0, 4, 0), x_dir=(1, 0, 0), z_dir=(0, 1, 0))):
        Rectangle(SKETCH_11_W, SKETCH_11_H)
    extrude(amount=-CUT_EXTRUDE_5_DEPTH, mode=Mode.SUBTRACT)

    # 圆角5
    fillet_5_edges = [part.edges().sort_by_distance(p)[0] for p in [
        (-57, 2, 57.014182654),
        (57, 2, -57.014182654),
        (57, 2, 57.014182654),
        (-57, 2, -57.014182654),
    ]]
    fillet(fillet_5_edges, radius=FILLET_5_R)


solid = part.part
